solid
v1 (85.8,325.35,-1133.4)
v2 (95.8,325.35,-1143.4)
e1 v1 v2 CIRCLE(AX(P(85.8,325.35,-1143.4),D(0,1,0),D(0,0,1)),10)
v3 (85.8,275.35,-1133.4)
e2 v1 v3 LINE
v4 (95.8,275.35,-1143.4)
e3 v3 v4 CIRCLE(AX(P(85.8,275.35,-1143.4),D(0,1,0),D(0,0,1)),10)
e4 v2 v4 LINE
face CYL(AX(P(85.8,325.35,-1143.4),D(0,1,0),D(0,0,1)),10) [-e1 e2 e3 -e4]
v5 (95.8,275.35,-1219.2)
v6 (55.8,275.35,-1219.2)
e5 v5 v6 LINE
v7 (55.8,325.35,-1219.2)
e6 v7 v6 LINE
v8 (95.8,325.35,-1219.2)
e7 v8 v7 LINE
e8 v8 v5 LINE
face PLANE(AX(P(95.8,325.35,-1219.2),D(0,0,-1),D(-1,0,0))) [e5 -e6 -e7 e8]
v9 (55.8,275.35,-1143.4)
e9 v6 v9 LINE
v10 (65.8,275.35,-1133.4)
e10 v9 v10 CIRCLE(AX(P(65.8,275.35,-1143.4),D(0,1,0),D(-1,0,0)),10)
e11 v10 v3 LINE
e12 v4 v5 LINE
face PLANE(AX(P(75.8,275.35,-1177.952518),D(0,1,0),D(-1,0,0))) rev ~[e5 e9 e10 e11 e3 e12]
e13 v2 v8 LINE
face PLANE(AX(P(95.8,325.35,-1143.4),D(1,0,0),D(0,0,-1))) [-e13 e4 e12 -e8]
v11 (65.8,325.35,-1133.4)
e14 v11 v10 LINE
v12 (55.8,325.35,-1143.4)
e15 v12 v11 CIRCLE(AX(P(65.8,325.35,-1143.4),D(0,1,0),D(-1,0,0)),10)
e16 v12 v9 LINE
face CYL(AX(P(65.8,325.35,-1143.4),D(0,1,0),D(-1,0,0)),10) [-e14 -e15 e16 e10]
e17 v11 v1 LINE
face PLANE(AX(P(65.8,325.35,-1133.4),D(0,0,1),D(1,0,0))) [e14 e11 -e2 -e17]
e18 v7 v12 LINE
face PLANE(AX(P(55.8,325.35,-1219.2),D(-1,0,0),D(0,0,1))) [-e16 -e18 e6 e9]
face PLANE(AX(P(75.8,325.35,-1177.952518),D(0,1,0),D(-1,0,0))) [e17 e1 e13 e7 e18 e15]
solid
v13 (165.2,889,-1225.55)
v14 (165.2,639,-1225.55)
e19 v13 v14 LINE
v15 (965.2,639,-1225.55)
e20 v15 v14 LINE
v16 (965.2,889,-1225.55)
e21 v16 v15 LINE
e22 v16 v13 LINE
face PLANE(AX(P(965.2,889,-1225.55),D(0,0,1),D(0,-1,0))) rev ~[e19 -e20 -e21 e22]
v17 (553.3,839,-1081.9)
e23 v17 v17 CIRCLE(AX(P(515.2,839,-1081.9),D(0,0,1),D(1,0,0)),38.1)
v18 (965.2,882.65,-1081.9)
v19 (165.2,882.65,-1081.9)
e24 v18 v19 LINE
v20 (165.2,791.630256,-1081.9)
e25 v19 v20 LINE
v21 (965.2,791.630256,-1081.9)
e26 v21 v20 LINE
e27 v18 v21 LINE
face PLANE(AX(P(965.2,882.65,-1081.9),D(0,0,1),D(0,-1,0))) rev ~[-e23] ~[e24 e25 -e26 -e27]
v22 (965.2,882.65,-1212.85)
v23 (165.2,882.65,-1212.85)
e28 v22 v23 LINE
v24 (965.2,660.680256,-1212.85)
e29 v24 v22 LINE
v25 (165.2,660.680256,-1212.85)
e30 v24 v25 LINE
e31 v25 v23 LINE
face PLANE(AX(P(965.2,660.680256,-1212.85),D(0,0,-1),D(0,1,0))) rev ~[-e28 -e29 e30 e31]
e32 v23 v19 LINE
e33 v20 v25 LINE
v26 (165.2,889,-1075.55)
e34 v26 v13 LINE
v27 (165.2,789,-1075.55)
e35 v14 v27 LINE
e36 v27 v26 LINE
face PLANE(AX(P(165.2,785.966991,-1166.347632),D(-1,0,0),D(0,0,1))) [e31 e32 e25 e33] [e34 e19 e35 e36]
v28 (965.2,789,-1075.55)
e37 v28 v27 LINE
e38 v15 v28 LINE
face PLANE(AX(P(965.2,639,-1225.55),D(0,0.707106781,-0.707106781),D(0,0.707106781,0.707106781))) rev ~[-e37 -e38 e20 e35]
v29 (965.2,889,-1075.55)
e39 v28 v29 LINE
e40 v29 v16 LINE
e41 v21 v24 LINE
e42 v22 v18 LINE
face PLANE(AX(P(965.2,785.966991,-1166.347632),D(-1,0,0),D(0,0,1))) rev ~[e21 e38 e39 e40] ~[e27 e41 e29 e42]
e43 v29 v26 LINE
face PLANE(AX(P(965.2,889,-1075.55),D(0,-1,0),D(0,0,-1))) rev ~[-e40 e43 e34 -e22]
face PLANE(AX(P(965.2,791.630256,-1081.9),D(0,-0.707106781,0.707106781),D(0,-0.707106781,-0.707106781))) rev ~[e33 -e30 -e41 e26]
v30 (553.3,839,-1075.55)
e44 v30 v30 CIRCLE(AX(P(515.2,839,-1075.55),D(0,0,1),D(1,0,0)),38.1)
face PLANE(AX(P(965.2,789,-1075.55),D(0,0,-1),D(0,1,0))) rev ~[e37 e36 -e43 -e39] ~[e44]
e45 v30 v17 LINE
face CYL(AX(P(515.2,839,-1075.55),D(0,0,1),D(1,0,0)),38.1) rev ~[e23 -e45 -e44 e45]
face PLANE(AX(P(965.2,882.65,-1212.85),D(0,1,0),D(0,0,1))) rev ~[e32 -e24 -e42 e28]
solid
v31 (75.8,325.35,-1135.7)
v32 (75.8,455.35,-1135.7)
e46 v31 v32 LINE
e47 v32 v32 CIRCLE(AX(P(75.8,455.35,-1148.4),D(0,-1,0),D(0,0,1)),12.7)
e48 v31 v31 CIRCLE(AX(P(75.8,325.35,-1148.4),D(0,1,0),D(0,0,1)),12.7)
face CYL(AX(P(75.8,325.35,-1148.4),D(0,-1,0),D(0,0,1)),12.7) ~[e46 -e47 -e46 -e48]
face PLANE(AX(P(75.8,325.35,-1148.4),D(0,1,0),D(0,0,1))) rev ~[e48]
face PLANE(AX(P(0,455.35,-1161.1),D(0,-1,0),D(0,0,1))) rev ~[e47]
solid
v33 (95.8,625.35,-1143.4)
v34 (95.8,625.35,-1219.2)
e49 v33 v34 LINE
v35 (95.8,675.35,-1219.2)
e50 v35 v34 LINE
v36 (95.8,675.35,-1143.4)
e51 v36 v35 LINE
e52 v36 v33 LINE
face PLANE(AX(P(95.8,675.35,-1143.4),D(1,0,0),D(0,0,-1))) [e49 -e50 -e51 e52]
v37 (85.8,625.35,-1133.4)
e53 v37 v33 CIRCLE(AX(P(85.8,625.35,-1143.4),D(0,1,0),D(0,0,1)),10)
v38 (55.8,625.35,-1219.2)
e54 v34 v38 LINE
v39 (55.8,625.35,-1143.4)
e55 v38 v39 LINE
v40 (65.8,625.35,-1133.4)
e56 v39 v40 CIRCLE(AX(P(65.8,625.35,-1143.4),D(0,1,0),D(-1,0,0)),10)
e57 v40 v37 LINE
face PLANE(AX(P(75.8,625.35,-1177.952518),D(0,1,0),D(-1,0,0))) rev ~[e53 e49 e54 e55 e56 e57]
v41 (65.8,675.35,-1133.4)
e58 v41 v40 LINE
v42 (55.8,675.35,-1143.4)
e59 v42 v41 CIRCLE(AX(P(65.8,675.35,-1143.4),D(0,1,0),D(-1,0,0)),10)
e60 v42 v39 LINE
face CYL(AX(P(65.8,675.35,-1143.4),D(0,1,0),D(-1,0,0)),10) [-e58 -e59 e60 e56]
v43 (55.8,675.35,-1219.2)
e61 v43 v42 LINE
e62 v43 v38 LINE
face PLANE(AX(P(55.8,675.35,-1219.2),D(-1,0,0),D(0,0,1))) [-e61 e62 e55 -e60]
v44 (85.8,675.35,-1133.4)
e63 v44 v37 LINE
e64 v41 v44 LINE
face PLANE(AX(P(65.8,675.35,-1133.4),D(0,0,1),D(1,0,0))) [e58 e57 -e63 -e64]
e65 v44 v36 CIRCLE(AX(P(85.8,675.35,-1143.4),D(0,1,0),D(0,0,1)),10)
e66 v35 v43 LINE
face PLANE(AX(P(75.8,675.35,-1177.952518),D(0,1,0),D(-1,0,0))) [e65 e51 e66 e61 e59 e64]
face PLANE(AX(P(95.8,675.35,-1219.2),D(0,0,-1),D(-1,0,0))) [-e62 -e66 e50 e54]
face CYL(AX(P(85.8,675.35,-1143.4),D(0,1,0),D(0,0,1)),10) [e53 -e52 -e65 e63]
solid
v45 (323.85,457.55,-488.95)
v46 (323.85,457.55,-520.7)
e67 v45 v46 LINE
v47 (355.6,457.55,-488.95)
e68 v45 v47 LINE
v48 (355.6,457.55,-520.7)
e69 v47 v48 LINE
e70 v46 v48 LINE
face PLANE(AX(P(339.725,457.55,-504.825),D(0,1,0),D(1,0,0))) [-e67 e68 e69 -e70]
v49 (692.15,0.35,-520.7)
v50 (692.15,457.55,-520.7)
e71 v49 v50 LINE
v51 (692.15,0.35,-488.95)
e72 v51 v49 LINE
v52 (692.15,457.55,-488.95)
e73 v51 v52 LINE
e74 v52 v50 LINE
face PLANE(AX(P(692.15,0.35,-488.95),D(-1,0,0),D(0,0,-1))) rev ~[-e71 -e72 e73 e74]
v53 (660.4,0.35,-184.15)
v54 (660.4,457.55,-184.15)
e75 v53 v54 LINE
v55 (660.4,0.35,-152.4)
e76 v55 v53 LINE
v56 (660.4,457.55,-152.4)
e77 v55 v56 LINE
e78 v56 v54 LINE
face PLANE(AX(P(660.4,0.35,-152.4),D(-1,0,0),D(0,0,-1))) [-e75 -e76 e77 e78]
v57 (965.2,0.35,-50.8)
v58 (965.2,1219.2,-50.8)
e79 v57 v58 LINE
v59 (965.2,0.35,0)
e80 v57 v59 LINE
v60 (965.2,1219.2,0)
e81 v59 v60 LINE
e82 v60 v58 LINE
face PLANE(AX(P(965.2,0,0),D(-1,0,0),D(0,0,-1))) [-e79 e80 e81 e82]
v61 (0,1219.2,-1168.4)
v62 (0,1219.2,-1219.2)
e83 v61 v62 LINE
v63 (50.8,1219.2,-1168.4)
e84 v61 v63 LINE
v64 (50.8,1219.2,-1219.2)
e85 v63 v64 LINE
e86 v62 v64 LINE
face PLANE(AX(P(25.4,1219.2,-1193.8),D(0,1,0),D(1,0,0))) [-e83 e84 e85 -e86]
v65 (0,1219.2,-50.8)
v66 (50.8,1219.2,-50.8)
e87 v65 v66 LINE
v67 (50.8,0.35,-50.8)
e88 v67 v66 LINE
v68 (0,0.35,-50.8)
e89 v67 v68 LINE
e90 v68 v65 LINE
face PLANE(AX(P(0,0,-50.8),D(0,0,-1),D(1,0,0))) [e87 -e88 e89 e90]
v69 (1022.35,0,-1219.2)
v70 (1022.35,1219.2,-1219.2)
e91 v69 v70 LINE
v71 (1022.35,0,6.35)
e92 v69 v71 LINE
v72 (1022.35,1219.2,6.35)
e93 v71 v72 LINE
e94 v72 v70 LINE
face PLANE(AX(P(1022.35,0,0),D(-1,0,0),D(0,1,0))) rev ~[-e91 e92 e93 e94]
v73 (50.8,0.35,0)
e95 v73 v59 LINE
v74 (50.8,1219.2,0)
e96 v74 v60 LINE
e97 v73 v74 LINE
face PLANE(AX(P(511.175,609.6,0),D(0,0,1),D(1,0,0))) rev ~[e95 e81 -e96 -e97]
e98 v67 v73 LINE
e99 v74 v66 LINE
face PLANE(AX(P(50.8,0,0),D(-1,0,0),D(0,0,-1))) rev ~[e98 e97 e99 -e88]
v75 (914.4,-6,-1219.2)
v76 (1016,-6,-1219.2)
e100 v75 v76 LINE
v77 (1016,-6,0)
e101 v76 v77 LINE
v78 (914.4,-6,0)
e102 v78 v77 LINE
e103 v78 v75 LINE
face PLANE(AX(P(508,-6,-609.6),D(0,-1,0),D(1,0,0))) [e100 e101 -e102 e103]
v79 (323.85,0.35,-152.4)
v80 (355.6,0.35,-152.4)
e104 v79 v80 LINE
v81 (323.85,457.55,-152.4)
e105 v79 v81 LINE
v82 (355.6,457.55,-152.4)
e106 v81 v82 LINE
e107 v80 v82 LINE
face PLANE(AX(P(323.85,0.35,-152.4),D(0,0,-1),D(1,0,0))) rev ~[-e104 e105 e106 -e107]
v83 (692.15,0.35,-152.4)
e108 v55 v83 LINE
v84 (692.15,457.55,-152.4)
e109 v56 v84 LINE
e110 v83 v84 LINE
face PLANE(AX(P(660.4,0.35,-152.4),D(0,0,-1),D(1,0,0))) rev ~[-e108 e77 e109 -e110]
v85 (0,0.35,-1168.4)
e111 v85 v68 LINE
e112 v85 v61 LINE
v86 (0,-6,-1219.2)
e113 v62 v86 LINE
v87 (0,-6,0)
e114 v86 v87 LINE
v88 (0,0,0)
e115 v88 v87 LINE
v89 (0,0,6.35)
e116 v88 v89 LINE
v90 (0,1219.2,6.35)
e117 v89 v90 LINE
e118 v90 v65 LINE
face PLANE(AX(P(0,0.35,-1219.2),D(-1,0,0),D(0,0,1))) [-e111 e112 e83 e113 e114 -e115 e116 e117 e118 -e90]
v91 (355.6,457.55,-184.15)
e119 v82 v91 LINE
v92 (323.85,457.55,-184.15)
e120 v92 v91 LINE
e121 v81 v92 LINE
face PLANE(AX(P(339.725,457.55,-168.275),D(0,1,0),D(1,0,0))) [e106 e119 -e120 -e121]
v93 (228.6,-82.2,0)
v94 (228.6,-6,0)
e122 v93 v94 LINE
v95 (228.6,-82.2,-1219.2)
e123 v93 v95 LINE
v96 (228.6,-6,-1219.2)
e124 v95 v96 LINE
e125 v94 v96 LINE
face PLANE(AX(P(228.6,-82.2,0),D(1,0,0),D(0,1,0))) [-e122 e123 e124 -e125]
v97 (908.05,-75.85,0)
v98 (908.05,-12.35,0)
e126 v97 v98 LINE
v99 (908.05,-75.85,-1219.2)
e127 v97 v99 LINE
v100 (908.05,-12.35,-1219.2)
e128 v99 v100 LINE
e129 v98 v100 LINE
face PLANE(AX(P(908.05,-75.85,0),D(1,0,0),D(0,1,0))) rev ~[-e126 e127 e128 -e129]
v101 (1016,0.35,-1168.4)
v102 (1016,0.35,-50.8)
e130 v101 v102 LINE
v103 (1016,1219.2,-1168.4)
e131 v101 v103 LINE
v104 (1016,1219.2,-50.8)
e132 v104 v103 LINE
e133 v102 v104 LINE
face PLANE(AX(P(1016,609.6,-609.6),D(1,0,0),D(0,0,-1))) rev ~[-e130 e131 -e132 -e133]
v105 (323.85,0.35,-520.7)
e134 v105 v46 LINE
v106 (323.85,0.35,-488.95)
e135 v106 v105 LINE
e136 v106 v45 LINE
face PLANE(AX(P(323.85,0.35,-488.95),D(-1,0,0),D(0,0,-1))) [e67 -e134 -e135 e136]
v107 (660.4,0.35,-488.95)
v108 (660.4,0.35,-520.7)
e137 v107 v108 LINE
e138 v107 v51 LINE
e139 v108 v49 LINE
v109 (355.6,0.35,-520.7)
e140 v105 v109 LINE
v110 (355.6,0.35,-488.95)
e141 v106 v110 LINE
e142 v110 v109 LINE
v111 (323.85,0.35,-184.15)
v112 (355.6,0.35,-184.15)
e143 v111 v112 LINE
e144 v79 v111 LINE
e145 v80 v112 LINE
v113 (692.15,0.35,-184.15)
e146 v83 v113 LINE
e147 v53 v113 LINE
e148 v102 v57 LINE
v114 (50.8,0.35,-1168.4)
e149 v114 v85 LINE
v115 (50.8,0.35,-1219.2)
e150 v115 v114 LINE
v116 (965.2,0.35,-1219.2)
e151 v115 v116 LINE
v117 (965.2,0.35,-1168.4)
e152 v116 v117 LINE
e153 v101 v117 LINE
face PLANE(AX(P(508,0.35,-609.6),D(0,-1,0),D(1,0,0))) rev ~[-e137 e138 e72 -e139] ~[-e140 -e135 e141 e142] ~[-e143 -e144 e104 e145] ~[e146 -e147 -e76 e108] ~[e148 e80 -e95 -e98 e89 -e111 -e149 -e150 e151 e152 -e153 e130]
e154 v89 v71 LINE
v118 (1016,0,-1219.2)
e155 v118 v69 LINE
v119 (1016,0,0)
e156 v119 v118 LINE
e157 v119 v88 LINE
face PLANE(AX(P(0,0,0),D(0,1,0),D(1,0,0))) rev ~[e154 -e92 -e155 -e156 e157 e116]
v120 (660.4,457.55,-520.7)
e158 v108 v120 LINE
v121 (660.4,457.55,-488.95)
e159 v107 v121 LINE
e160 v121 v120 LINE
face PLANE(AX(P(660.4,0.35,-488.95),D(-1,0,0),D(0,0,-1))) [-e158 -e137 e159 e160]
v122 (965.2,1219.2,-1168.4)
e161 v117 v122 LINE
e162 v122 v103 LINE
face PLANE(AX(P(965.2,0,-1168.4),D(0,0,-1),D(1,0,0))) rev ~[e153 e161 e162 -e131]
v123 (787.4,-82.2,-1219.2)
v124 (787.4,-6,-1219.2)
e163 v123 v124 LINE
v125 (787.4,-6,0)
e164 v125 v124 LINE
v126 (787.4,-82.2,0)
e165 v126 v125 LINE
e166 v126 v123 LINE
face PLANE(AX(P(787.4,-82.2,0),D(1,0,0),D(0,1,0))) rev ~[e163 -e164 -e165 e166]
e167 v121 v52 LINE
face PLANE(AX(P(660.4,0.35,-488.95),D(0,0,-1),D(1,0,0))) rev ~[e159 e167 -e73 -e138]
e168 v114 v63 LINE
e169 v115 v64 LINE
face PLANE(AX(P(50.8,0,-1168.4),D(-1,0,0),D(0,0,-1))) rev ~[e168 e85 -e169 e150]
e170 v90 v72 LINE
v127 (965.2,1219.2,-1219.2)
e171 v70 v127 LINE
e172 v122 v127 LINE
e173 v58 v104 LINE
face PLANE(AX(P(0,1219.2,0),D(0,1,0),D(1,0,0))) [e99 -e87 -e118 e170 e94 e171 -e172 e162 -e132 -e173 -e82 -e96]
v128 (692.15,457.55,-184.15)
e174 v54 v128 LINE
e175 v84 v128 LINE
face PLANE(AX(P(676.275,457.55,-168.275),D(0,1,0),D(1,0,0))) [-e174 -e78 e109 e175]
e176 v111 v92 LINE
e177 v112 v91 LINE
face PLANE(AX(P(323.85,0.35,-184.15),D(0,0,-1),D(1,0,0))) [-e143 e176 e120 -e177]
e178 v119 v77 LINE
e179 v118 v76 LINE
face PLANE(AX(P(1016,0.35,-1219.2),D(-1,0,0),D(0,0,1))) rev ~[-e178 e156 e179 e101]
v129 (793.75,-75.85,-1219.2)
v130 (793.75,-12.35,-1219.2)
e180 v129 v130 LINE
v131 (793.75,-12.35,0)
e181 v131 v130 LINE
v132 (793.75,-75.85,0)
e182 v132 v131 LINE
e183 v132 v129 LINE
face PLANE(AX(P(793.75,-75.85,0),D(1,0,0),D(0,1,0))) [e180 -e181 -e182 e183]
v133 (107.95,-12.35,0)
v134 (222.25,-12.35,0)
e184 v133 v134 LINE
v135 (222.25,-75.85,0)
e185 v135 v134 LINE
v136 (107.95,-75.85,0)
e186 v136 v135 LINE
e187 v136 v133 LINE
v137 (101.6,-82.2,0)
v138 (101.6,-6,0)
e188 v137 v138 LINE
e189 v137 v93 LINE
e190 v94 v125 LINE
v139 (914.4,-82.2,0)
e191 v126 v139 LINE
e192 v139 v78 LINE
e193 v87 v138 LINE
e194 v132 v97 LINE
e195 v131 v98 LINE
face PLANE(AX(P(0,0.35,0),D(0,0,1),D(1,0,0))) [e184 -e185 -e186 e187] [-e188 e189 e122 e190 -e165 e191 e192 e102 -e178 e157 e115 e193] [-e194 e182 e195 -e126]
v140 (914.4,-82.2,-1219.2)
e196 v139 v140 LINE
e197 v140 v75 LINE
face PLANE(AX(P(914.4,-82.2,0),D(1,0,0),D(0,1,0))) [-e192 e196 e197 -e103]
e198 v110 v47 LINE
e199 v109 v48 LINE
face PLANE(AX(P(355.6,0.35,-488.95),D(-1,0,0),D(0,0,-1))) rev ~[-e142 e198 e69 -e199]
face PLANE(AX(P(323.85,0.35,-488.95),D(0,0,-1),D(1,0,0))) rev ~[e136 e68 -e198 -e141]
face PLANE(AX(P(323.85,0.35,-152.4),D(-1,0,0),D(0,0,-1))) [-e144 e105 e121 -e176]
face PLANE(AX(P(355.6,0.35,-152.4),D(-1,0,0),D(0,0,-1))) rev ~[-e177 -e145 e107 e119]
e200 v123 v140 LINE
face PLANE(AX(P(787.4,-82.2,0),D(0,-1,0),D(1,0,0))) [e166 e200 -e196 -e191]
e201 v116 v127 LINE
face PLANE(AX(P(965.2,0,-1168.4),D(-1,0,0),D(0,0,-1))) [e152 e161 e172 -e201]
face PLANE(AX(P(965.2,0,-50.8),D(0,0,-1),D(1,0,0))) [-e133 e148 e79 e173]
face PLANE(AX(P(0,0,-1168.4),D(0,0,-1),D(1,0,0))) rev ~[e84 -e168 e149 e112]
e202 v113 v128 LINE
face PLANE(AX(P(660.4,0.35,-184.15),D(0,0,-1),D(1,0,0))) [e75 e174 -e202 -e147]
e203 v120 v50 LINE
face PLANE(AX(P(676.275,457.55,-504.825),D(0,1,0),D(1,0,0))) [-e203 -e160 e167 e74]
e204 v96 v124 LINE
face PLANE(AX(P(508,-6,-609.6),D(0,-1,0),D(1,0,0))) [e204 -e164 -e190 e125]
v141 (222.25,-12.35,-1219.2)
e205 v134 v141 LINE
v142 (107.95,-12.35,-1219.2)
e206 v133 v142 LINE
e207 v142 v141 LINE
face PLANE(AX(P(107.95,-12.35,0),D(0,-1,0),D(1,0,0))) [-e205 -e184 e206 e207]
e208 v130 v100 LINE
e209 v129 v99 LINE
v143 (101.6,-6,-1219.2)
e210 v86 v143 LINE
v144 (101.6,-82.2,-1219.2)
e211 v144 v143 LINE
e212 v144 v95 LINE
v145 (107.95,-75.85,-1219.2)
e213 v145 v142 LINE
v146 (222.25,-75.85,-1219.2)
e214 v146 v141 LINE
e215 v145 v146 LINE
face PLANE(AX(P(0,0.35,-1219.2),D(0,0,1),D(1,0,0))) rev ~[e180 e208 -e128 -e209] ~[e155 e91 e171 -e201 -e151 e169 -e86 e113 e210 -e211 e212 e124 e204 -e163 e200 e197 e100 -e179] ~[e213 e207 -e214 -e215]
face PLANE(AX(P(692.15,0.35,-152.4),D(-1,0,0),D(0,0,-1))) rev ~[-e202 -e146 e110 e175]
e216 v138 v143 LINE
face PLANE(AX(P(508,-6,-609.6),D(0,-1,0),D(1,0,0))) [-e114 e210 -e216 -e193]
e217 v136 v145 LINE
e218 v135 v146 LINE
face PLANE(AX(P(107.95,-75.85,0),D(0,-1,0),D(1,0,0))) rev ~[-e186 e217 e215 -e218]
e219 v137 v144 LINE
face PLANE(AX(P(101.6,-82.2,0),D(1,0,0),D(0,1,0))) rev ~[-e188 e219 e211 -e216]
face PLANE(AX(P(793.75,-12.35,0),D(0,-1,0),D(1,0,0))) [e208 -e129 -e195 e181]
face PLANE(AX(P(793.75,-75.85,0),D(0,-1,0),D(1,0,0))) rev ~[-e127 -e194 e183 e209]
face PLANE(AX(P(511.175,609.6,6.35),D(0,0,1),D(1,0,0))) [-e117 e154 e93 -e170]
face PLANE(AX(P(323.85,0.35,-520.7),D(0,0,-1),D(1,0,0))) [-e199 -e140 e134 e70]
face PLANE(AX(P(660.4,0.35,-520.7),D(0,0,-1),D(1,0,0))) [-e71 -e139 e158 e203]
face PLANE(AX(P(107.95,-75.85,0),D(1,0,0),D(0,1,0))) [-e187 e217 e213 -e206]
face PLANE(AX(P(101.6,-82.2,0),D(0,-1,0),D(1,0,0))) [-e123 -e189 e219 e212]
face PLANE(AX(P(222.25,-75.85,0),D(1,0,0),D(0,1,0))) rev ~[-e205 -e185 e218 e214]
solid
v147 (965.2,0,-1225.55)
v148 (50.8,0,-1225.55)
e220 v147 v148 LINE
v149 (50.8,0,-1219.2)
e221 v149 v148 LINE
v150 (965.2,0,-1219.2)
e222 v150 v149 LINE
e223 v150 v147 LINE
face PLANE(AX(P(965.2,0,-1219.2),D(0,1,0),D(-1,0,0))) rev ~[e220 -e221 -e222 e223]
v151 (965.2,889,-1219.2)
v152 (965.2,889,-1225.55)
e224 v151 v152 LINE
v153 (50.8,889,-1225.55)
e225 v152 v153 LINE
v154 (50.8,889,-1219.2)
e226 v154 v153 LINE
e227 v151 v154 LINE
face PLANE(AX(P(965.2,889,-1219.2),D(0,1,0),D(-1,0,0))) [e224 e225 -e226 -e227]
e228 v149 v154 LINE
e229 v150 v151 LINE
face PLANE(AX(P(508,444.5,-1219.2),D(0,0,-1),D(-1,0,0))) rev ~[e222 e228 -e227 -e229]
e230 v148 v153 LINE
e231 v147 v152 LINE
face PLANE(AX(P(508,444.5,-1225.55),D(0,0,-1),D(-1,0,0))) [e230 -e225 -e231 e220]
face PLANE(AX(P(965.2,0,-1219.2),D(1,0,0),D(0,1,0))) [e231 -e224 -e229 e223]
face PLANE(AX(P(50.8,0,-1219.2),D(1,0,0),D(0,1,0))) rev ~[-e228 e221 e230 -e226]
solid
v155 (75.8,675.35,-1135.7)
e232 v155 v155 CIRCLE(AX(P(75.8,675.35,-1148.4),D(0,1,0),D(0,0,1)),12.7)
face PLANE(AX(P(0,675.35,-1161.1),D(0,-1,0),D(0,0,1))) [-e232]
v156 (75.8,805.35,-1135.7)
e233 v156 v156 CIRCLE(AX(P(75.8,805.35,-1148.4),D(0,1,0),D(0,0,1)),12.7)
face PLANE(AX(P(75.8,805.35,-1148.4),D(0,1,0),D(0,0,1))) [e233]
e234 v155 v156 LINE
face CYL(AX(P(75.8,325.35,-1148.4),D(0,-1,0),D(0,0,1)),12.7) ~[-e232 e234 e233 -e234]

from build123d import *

# Parameters (mm, degrees)
SKETCH3_W                = 50.8
SKETCH3_H                = 50.8
BOSS_EXTRUDE1_DEPTH      = 1219.2
BOSS_EXTRUDE1_2_DEPTH    = 1219.2
BOSS_EXTRUDE1_3_DEPTH    = 1219.2
BOSS_EXTRUDE1_4_DEPTH    = 1219.2
SKETCH4_W                = 1219.2
SKETCH4_H                = 1219.2
BOSS_EXTRUDE2_DEPTH      = 6.35
SKETCH6_W                = 1022.35
SKETCH6_H                = 1219.2
BOSS_EXTRUDE4_DEPTH      = 6.35
BOSS_EXTRUDE7_DEPTH      = 6
BOSS_EXTRUDE7_DEPTH_BACK = 0.35
SKETCH7_W                = 1016
SKETCH7_H                = 1219.2
SKETCH8_W                = 914.4
SKETCH8_H                = 889
BOSS_EXTRUDE8_DEPTH      = 6.35
BOSS_EXTRUDE18_DEPTH     = 800
SKETCH12_W               = 127
SKETCH12_H               = 76.2
SKETCH12_W_2             = 114.3
SKETCH12_H_2             = 63.5
BOSS_EXTRUDE19_DEPTH     = 1219.2
SKETCH17_W               = 31.75
SKETCH17_H               = 31.75
BOSS_EXTRUDE20_DEPTH     = 457.2
BOSS_EXTRUDE21_START     = 325
SKETCH18_R               = 12.7
BOSS_EXTRUDE21_DEPTH     = 480
SKETCH19_W               = 25.4
SKETCH19_H               = 220
CUT_EXTRUDE3_DEPTH       = 100
BOSS_EXTRUDE23_DEPTH     = 50
BOSS_EXTRUDE25_START     = 350
BOSS_EXTRUDE25_DEPTH     = 50
SKETCH21_R               = 38.1
CUT_EXTRUDE4_DEPTH       = 6.35


with BuildPart() as part:
    # Sketch3 → Boss-Extrude1 (new body)
    with BuildSketch(Plane(origin=(0, 0, 0), x_dir=(1, 0, 0), z_dir=(0, 1, 0))):
        with Locations((25.4, 25.4)):
            Rectangle(SKETCH3_W, SKETCH3_H)
    extrude(amount=BOSS_EXTRUDE1_DEPTH)



with BuildPart() as body_2:
    # Sketch3 → Boss-Extrude1 2 (new body)
    with BuildSketch(Plane(origin=(0, 0, 0), x_dir=(1, 0, 0), z_dir=(0, 1, 0))):
        with Locations((990.6, 25.4)):
            Rectangle(SKETCH3_W, SKETCH3_H)
    extrude(amount=BOSS_EXTRUDE1_2_DEPTH)



with BuildPart() as body_3:
    # Sketch3 → Boss-Extrude1 3 (new body)
    with BuildSketch(Plane(origin=(0, 0, 0), x_dir=(1, 0, 0), z_dir=(0, 1, 0))):
        with Locations((25.4, 1193.8)):
            Rectangle(SKETCH3_W, SKETCH3_H)
    extrude(amount=BOSS_EXTRUDE1_3_DEPTH)


with BuildPart() as body_4:
    # Sketch3 → Boss-Extrude1 4 (new body)
    with BuildSketch(Plane(origin=(0, 0, 0), x_dir=(1, 0, 0), z_dir=(0, 1, 0))):
        with Locations((990.6, 1193.8)):
            Rectangle(SKETCH3_W, SKETCH3_H)
    extrude(amount=BOSS_EXTRUDE1_4_DEPTH)


with BuildPart() as body_2_1:
    add(body_2.part)

    add(body_4.part)  # Boss-Extrude2 merges body 4
    # Sketch4 → Boss-Extrude2 (add)
    with BuildSketch(Plane(origin=(1016, 0, 0), x_dir=(0, 0, -1), z_dir=(1, 0, 0))):
        with Locations((609.6, 609.6)):
            Rectangle(SKETCH4_W, SKETCH4_H)
    extrude(amount=BOSS_EXTRUDE2_DEPTH)


with BuildPart() as part_1:
    add(part.part)

    add(body_2_1.part)  # Boss-Extrude4 merges body 2
    # Sketch6 → Boss-Extrude4 (add)
    with BuildSketch(Plane.XY):
        with Locations((511.175, 609.6)):
            Rectangle(SKETCH6_W, SKETCH6_H)
    extrude(amount=BOSS_EXTRUDE4_DEPTH)


    add(body_3.part)  # Boss-Extrude7 merges body 3
    # Sketch7 → Boss-Extrude7 (add, two sides: drawn at the far end of the back side and taken through both)
    with BuildSketch(Plane.XZ.offset(-BOSS_EXTRUDE7_DEPTH_BACK)):
        with Locations((508, -609.6)):
            Rectangle(SKETCH7_W, SKETCH7_H)
    extrude(amount=BOSS_EXTRUDE7_DEPTH + BOSS_EXTRUDE7_DEPTH_BACK)

    # Sketch12 → Boss-Extrude19 (add)
    # profile 1 of 2: a face of its own
    with BuildSketch(Plane.XY):
        with Locations((165.1, -44.1)):
            Rectangle(SKETCH12_W, SKETCH12_H)
        with Locations((165.1, -44.1)):
            Rectangle(SKETCH12_W_2, SKETCH12_H_2, mode=Mode.SUBTRACT)
    # profile 2 of 2: a face of its own
    with BuildSketch(Plane.XY):
        with Locations((850.9, -44.1)):
            Rectangle(SKETCH12_W, SKETCH12_H)
        with Locations((850.9, -44.1)):
            Rectangle(SKETCH12_W_2, SKETCH12_H_2, mode=Mode.SUBTRACT)
    extrude(amount=-BOSS_EXTRUDE19_DEPTH)

    # Sketch17 → Boss-Extrude20 (add)
    with BuildSketch(Plane(origin=(0, 0.35, 0), x_dir=(1, 0, 0), z_dir=(0, 1, 0))):
        with Locations((339.725, 504.825)):
            Rectangle(SKETCH17_W, SKETCH17_H)
        with Locations((676.275, 504.825)):
            Rectangle(SKETCH17_W, SKETCH17_H)
        with Locations((339.725, 168.275)):
            Rectangle(SKETCH17_W, SKETCH17_H)
        with Locations((676.275, 168.275)):
            Rectangle(SKETCH17_W, SKETCH17_H)
    extrude(amount=BOSS_EXTRUDE20_DEPTH)


with BuildPart() as body_2_2:
    # Sketch8 → Boss-Extrude8 (new body)
    with BuildSketch(Plane(origin=(0, 0, -1219.2), x_dir=(-1, 0, 0), z_dir=(0, 0, -1))):
        with Locations((-508, 444.5)):
            Rectangle(SKETCH8_W, SKETCH8_H)
    extrude(amount=BOSS_EXTRUDE8_DEPTH)


with BuildPart() as body_3_2:
    # Sketch11 → Boss-Extrude18 (new body)
    with BuildSketch(Plane.ZY.offset(-965.2)):
        Polygon((-1225.55, 639), (-1075.55, 789), (-1075.55, 889), (-1225.55, 889), align=None)
        Polygon((-1212.85, 882.65), (-1081.9, 882.65), (-1081.9, 791.630256121), (-1212.85, 660.680256121), align=None, mode=Mode.SUBTRACT)
    extrude(amount=BOSS_EXTRUDE18_DEPTH)

    # Sketch21 → Cut-Extrude4 (cut)
    with BuildSketch(Plane.XY.offset(-1075.55)):
        with Locations((515.2, 839)):
            Circle(SKETCH21_R)
    extrude(amount=-CUT_EXTRUDE4_DEPTH, mode=Mode.SUBTRACT)


with BuildPart() as body_4_2:
    # Sketch18 → Boss-Extrude21 (new body)
    with BuildSketch(Plane(origin=(0, 0.35, 0), x_dir=(1, 0, 0), z_dir=(0, 1, 0)).offset(BOSS_EXTRUDE21_START)):
        with Locations(Location((75.8, 1148.4, 0), (0, 0, 270))):
            Circle(SKETCH18_R)
    extrude(amount=BOSS_EXTRUDE21_DEPTH)

    # Sketch19 → Cut-Extrude3 (cut)
    with BuildSketch(Plane.ZY):
        with Locations((-1148.4, 565.35)):
            Rectangle(SKETCH19_W, SKETCH19_H)
    extrude(amount=-CUT_EXTRUDE3_DEPTH, mode=Mode.SUBTRACT)


with BuildPart() as cut_extrude3_piece_1:
    # of the separate pieces the step leaves, piece 1, a body of its own (cut_extrude3_pieces)
    add(body_4_2.part.solids().sort_by_distance((75.8, 325.35, -1135.7))[0])


with BuildPart() as cut_extrude3_piece_2:
    # of the separate pieces the step leaves, piece 2, a body of its own (cut_extrude3_pieces)
    add(body_4_2.part.solids().sort_by_distance((75.8, 675.35, -1135.7))[0])


with BuildPart() as body_6:
    # Sketch20 → Boss-Extrude23 (new body)
    with BuildSketch(Plane.XZ.offset(-675.35)):
        with BuildLine():
            Line((95.8, -1219.2), (55.8, -1219.2))
            Line((55.8, -1219.2), (55.8, -1143.4))
            ThreePointArc((55.8, -1143.4), (58.728932188, -1136.328932188), (65.8, -1133.4))
            Line((65.8, -1133.4), (85.8, -1133.4))
            ThreePointArc((85.8, -1133.4), (92.871067812, -1136.328932188), (95.8, -1143.4))
            Line((95.8, -1143.4), (95.8, -1219.2))
        make_face()
    extrude(amount=BOSS_EXTRUDE23_DEPTH)


with BuildPart() as body_7:
    # Sketch20<2> → Boss-Extrude25 (new body)
    with BuildSketch(Plane.XZ.offset(-675.35).offset(BOSS_EXTRUDE25_START)):
        with BuildLine():
            Line((95.8, -1219.2), (55.8, -1219.2))
            Line((55.8, -1219.2), (55.8, -1143.4))
            ThreePointArc((55.8, -1143.4), (58.728932188, -1136.328932188), (65.8, -1133.4))
            Line((65.8, -1133.4), (85.8, -1133.4))
            ThreePointArc((85.8, -1133.4), (92.871067812, -1136.328932188), (95.8, -1143.4))
            Line((95.8, -1143.4), (95.8, -1219.2))
        make_face()
    extrude(amount=BOSS_EXTRUDE25_DEPTH)


solid = Compound([part_1.part, body_2_2.part, body_3_2.part, cut_extrude3_piece_1.part, cut_extrude3_piece_2.part, body_6.part, body_7.part])
